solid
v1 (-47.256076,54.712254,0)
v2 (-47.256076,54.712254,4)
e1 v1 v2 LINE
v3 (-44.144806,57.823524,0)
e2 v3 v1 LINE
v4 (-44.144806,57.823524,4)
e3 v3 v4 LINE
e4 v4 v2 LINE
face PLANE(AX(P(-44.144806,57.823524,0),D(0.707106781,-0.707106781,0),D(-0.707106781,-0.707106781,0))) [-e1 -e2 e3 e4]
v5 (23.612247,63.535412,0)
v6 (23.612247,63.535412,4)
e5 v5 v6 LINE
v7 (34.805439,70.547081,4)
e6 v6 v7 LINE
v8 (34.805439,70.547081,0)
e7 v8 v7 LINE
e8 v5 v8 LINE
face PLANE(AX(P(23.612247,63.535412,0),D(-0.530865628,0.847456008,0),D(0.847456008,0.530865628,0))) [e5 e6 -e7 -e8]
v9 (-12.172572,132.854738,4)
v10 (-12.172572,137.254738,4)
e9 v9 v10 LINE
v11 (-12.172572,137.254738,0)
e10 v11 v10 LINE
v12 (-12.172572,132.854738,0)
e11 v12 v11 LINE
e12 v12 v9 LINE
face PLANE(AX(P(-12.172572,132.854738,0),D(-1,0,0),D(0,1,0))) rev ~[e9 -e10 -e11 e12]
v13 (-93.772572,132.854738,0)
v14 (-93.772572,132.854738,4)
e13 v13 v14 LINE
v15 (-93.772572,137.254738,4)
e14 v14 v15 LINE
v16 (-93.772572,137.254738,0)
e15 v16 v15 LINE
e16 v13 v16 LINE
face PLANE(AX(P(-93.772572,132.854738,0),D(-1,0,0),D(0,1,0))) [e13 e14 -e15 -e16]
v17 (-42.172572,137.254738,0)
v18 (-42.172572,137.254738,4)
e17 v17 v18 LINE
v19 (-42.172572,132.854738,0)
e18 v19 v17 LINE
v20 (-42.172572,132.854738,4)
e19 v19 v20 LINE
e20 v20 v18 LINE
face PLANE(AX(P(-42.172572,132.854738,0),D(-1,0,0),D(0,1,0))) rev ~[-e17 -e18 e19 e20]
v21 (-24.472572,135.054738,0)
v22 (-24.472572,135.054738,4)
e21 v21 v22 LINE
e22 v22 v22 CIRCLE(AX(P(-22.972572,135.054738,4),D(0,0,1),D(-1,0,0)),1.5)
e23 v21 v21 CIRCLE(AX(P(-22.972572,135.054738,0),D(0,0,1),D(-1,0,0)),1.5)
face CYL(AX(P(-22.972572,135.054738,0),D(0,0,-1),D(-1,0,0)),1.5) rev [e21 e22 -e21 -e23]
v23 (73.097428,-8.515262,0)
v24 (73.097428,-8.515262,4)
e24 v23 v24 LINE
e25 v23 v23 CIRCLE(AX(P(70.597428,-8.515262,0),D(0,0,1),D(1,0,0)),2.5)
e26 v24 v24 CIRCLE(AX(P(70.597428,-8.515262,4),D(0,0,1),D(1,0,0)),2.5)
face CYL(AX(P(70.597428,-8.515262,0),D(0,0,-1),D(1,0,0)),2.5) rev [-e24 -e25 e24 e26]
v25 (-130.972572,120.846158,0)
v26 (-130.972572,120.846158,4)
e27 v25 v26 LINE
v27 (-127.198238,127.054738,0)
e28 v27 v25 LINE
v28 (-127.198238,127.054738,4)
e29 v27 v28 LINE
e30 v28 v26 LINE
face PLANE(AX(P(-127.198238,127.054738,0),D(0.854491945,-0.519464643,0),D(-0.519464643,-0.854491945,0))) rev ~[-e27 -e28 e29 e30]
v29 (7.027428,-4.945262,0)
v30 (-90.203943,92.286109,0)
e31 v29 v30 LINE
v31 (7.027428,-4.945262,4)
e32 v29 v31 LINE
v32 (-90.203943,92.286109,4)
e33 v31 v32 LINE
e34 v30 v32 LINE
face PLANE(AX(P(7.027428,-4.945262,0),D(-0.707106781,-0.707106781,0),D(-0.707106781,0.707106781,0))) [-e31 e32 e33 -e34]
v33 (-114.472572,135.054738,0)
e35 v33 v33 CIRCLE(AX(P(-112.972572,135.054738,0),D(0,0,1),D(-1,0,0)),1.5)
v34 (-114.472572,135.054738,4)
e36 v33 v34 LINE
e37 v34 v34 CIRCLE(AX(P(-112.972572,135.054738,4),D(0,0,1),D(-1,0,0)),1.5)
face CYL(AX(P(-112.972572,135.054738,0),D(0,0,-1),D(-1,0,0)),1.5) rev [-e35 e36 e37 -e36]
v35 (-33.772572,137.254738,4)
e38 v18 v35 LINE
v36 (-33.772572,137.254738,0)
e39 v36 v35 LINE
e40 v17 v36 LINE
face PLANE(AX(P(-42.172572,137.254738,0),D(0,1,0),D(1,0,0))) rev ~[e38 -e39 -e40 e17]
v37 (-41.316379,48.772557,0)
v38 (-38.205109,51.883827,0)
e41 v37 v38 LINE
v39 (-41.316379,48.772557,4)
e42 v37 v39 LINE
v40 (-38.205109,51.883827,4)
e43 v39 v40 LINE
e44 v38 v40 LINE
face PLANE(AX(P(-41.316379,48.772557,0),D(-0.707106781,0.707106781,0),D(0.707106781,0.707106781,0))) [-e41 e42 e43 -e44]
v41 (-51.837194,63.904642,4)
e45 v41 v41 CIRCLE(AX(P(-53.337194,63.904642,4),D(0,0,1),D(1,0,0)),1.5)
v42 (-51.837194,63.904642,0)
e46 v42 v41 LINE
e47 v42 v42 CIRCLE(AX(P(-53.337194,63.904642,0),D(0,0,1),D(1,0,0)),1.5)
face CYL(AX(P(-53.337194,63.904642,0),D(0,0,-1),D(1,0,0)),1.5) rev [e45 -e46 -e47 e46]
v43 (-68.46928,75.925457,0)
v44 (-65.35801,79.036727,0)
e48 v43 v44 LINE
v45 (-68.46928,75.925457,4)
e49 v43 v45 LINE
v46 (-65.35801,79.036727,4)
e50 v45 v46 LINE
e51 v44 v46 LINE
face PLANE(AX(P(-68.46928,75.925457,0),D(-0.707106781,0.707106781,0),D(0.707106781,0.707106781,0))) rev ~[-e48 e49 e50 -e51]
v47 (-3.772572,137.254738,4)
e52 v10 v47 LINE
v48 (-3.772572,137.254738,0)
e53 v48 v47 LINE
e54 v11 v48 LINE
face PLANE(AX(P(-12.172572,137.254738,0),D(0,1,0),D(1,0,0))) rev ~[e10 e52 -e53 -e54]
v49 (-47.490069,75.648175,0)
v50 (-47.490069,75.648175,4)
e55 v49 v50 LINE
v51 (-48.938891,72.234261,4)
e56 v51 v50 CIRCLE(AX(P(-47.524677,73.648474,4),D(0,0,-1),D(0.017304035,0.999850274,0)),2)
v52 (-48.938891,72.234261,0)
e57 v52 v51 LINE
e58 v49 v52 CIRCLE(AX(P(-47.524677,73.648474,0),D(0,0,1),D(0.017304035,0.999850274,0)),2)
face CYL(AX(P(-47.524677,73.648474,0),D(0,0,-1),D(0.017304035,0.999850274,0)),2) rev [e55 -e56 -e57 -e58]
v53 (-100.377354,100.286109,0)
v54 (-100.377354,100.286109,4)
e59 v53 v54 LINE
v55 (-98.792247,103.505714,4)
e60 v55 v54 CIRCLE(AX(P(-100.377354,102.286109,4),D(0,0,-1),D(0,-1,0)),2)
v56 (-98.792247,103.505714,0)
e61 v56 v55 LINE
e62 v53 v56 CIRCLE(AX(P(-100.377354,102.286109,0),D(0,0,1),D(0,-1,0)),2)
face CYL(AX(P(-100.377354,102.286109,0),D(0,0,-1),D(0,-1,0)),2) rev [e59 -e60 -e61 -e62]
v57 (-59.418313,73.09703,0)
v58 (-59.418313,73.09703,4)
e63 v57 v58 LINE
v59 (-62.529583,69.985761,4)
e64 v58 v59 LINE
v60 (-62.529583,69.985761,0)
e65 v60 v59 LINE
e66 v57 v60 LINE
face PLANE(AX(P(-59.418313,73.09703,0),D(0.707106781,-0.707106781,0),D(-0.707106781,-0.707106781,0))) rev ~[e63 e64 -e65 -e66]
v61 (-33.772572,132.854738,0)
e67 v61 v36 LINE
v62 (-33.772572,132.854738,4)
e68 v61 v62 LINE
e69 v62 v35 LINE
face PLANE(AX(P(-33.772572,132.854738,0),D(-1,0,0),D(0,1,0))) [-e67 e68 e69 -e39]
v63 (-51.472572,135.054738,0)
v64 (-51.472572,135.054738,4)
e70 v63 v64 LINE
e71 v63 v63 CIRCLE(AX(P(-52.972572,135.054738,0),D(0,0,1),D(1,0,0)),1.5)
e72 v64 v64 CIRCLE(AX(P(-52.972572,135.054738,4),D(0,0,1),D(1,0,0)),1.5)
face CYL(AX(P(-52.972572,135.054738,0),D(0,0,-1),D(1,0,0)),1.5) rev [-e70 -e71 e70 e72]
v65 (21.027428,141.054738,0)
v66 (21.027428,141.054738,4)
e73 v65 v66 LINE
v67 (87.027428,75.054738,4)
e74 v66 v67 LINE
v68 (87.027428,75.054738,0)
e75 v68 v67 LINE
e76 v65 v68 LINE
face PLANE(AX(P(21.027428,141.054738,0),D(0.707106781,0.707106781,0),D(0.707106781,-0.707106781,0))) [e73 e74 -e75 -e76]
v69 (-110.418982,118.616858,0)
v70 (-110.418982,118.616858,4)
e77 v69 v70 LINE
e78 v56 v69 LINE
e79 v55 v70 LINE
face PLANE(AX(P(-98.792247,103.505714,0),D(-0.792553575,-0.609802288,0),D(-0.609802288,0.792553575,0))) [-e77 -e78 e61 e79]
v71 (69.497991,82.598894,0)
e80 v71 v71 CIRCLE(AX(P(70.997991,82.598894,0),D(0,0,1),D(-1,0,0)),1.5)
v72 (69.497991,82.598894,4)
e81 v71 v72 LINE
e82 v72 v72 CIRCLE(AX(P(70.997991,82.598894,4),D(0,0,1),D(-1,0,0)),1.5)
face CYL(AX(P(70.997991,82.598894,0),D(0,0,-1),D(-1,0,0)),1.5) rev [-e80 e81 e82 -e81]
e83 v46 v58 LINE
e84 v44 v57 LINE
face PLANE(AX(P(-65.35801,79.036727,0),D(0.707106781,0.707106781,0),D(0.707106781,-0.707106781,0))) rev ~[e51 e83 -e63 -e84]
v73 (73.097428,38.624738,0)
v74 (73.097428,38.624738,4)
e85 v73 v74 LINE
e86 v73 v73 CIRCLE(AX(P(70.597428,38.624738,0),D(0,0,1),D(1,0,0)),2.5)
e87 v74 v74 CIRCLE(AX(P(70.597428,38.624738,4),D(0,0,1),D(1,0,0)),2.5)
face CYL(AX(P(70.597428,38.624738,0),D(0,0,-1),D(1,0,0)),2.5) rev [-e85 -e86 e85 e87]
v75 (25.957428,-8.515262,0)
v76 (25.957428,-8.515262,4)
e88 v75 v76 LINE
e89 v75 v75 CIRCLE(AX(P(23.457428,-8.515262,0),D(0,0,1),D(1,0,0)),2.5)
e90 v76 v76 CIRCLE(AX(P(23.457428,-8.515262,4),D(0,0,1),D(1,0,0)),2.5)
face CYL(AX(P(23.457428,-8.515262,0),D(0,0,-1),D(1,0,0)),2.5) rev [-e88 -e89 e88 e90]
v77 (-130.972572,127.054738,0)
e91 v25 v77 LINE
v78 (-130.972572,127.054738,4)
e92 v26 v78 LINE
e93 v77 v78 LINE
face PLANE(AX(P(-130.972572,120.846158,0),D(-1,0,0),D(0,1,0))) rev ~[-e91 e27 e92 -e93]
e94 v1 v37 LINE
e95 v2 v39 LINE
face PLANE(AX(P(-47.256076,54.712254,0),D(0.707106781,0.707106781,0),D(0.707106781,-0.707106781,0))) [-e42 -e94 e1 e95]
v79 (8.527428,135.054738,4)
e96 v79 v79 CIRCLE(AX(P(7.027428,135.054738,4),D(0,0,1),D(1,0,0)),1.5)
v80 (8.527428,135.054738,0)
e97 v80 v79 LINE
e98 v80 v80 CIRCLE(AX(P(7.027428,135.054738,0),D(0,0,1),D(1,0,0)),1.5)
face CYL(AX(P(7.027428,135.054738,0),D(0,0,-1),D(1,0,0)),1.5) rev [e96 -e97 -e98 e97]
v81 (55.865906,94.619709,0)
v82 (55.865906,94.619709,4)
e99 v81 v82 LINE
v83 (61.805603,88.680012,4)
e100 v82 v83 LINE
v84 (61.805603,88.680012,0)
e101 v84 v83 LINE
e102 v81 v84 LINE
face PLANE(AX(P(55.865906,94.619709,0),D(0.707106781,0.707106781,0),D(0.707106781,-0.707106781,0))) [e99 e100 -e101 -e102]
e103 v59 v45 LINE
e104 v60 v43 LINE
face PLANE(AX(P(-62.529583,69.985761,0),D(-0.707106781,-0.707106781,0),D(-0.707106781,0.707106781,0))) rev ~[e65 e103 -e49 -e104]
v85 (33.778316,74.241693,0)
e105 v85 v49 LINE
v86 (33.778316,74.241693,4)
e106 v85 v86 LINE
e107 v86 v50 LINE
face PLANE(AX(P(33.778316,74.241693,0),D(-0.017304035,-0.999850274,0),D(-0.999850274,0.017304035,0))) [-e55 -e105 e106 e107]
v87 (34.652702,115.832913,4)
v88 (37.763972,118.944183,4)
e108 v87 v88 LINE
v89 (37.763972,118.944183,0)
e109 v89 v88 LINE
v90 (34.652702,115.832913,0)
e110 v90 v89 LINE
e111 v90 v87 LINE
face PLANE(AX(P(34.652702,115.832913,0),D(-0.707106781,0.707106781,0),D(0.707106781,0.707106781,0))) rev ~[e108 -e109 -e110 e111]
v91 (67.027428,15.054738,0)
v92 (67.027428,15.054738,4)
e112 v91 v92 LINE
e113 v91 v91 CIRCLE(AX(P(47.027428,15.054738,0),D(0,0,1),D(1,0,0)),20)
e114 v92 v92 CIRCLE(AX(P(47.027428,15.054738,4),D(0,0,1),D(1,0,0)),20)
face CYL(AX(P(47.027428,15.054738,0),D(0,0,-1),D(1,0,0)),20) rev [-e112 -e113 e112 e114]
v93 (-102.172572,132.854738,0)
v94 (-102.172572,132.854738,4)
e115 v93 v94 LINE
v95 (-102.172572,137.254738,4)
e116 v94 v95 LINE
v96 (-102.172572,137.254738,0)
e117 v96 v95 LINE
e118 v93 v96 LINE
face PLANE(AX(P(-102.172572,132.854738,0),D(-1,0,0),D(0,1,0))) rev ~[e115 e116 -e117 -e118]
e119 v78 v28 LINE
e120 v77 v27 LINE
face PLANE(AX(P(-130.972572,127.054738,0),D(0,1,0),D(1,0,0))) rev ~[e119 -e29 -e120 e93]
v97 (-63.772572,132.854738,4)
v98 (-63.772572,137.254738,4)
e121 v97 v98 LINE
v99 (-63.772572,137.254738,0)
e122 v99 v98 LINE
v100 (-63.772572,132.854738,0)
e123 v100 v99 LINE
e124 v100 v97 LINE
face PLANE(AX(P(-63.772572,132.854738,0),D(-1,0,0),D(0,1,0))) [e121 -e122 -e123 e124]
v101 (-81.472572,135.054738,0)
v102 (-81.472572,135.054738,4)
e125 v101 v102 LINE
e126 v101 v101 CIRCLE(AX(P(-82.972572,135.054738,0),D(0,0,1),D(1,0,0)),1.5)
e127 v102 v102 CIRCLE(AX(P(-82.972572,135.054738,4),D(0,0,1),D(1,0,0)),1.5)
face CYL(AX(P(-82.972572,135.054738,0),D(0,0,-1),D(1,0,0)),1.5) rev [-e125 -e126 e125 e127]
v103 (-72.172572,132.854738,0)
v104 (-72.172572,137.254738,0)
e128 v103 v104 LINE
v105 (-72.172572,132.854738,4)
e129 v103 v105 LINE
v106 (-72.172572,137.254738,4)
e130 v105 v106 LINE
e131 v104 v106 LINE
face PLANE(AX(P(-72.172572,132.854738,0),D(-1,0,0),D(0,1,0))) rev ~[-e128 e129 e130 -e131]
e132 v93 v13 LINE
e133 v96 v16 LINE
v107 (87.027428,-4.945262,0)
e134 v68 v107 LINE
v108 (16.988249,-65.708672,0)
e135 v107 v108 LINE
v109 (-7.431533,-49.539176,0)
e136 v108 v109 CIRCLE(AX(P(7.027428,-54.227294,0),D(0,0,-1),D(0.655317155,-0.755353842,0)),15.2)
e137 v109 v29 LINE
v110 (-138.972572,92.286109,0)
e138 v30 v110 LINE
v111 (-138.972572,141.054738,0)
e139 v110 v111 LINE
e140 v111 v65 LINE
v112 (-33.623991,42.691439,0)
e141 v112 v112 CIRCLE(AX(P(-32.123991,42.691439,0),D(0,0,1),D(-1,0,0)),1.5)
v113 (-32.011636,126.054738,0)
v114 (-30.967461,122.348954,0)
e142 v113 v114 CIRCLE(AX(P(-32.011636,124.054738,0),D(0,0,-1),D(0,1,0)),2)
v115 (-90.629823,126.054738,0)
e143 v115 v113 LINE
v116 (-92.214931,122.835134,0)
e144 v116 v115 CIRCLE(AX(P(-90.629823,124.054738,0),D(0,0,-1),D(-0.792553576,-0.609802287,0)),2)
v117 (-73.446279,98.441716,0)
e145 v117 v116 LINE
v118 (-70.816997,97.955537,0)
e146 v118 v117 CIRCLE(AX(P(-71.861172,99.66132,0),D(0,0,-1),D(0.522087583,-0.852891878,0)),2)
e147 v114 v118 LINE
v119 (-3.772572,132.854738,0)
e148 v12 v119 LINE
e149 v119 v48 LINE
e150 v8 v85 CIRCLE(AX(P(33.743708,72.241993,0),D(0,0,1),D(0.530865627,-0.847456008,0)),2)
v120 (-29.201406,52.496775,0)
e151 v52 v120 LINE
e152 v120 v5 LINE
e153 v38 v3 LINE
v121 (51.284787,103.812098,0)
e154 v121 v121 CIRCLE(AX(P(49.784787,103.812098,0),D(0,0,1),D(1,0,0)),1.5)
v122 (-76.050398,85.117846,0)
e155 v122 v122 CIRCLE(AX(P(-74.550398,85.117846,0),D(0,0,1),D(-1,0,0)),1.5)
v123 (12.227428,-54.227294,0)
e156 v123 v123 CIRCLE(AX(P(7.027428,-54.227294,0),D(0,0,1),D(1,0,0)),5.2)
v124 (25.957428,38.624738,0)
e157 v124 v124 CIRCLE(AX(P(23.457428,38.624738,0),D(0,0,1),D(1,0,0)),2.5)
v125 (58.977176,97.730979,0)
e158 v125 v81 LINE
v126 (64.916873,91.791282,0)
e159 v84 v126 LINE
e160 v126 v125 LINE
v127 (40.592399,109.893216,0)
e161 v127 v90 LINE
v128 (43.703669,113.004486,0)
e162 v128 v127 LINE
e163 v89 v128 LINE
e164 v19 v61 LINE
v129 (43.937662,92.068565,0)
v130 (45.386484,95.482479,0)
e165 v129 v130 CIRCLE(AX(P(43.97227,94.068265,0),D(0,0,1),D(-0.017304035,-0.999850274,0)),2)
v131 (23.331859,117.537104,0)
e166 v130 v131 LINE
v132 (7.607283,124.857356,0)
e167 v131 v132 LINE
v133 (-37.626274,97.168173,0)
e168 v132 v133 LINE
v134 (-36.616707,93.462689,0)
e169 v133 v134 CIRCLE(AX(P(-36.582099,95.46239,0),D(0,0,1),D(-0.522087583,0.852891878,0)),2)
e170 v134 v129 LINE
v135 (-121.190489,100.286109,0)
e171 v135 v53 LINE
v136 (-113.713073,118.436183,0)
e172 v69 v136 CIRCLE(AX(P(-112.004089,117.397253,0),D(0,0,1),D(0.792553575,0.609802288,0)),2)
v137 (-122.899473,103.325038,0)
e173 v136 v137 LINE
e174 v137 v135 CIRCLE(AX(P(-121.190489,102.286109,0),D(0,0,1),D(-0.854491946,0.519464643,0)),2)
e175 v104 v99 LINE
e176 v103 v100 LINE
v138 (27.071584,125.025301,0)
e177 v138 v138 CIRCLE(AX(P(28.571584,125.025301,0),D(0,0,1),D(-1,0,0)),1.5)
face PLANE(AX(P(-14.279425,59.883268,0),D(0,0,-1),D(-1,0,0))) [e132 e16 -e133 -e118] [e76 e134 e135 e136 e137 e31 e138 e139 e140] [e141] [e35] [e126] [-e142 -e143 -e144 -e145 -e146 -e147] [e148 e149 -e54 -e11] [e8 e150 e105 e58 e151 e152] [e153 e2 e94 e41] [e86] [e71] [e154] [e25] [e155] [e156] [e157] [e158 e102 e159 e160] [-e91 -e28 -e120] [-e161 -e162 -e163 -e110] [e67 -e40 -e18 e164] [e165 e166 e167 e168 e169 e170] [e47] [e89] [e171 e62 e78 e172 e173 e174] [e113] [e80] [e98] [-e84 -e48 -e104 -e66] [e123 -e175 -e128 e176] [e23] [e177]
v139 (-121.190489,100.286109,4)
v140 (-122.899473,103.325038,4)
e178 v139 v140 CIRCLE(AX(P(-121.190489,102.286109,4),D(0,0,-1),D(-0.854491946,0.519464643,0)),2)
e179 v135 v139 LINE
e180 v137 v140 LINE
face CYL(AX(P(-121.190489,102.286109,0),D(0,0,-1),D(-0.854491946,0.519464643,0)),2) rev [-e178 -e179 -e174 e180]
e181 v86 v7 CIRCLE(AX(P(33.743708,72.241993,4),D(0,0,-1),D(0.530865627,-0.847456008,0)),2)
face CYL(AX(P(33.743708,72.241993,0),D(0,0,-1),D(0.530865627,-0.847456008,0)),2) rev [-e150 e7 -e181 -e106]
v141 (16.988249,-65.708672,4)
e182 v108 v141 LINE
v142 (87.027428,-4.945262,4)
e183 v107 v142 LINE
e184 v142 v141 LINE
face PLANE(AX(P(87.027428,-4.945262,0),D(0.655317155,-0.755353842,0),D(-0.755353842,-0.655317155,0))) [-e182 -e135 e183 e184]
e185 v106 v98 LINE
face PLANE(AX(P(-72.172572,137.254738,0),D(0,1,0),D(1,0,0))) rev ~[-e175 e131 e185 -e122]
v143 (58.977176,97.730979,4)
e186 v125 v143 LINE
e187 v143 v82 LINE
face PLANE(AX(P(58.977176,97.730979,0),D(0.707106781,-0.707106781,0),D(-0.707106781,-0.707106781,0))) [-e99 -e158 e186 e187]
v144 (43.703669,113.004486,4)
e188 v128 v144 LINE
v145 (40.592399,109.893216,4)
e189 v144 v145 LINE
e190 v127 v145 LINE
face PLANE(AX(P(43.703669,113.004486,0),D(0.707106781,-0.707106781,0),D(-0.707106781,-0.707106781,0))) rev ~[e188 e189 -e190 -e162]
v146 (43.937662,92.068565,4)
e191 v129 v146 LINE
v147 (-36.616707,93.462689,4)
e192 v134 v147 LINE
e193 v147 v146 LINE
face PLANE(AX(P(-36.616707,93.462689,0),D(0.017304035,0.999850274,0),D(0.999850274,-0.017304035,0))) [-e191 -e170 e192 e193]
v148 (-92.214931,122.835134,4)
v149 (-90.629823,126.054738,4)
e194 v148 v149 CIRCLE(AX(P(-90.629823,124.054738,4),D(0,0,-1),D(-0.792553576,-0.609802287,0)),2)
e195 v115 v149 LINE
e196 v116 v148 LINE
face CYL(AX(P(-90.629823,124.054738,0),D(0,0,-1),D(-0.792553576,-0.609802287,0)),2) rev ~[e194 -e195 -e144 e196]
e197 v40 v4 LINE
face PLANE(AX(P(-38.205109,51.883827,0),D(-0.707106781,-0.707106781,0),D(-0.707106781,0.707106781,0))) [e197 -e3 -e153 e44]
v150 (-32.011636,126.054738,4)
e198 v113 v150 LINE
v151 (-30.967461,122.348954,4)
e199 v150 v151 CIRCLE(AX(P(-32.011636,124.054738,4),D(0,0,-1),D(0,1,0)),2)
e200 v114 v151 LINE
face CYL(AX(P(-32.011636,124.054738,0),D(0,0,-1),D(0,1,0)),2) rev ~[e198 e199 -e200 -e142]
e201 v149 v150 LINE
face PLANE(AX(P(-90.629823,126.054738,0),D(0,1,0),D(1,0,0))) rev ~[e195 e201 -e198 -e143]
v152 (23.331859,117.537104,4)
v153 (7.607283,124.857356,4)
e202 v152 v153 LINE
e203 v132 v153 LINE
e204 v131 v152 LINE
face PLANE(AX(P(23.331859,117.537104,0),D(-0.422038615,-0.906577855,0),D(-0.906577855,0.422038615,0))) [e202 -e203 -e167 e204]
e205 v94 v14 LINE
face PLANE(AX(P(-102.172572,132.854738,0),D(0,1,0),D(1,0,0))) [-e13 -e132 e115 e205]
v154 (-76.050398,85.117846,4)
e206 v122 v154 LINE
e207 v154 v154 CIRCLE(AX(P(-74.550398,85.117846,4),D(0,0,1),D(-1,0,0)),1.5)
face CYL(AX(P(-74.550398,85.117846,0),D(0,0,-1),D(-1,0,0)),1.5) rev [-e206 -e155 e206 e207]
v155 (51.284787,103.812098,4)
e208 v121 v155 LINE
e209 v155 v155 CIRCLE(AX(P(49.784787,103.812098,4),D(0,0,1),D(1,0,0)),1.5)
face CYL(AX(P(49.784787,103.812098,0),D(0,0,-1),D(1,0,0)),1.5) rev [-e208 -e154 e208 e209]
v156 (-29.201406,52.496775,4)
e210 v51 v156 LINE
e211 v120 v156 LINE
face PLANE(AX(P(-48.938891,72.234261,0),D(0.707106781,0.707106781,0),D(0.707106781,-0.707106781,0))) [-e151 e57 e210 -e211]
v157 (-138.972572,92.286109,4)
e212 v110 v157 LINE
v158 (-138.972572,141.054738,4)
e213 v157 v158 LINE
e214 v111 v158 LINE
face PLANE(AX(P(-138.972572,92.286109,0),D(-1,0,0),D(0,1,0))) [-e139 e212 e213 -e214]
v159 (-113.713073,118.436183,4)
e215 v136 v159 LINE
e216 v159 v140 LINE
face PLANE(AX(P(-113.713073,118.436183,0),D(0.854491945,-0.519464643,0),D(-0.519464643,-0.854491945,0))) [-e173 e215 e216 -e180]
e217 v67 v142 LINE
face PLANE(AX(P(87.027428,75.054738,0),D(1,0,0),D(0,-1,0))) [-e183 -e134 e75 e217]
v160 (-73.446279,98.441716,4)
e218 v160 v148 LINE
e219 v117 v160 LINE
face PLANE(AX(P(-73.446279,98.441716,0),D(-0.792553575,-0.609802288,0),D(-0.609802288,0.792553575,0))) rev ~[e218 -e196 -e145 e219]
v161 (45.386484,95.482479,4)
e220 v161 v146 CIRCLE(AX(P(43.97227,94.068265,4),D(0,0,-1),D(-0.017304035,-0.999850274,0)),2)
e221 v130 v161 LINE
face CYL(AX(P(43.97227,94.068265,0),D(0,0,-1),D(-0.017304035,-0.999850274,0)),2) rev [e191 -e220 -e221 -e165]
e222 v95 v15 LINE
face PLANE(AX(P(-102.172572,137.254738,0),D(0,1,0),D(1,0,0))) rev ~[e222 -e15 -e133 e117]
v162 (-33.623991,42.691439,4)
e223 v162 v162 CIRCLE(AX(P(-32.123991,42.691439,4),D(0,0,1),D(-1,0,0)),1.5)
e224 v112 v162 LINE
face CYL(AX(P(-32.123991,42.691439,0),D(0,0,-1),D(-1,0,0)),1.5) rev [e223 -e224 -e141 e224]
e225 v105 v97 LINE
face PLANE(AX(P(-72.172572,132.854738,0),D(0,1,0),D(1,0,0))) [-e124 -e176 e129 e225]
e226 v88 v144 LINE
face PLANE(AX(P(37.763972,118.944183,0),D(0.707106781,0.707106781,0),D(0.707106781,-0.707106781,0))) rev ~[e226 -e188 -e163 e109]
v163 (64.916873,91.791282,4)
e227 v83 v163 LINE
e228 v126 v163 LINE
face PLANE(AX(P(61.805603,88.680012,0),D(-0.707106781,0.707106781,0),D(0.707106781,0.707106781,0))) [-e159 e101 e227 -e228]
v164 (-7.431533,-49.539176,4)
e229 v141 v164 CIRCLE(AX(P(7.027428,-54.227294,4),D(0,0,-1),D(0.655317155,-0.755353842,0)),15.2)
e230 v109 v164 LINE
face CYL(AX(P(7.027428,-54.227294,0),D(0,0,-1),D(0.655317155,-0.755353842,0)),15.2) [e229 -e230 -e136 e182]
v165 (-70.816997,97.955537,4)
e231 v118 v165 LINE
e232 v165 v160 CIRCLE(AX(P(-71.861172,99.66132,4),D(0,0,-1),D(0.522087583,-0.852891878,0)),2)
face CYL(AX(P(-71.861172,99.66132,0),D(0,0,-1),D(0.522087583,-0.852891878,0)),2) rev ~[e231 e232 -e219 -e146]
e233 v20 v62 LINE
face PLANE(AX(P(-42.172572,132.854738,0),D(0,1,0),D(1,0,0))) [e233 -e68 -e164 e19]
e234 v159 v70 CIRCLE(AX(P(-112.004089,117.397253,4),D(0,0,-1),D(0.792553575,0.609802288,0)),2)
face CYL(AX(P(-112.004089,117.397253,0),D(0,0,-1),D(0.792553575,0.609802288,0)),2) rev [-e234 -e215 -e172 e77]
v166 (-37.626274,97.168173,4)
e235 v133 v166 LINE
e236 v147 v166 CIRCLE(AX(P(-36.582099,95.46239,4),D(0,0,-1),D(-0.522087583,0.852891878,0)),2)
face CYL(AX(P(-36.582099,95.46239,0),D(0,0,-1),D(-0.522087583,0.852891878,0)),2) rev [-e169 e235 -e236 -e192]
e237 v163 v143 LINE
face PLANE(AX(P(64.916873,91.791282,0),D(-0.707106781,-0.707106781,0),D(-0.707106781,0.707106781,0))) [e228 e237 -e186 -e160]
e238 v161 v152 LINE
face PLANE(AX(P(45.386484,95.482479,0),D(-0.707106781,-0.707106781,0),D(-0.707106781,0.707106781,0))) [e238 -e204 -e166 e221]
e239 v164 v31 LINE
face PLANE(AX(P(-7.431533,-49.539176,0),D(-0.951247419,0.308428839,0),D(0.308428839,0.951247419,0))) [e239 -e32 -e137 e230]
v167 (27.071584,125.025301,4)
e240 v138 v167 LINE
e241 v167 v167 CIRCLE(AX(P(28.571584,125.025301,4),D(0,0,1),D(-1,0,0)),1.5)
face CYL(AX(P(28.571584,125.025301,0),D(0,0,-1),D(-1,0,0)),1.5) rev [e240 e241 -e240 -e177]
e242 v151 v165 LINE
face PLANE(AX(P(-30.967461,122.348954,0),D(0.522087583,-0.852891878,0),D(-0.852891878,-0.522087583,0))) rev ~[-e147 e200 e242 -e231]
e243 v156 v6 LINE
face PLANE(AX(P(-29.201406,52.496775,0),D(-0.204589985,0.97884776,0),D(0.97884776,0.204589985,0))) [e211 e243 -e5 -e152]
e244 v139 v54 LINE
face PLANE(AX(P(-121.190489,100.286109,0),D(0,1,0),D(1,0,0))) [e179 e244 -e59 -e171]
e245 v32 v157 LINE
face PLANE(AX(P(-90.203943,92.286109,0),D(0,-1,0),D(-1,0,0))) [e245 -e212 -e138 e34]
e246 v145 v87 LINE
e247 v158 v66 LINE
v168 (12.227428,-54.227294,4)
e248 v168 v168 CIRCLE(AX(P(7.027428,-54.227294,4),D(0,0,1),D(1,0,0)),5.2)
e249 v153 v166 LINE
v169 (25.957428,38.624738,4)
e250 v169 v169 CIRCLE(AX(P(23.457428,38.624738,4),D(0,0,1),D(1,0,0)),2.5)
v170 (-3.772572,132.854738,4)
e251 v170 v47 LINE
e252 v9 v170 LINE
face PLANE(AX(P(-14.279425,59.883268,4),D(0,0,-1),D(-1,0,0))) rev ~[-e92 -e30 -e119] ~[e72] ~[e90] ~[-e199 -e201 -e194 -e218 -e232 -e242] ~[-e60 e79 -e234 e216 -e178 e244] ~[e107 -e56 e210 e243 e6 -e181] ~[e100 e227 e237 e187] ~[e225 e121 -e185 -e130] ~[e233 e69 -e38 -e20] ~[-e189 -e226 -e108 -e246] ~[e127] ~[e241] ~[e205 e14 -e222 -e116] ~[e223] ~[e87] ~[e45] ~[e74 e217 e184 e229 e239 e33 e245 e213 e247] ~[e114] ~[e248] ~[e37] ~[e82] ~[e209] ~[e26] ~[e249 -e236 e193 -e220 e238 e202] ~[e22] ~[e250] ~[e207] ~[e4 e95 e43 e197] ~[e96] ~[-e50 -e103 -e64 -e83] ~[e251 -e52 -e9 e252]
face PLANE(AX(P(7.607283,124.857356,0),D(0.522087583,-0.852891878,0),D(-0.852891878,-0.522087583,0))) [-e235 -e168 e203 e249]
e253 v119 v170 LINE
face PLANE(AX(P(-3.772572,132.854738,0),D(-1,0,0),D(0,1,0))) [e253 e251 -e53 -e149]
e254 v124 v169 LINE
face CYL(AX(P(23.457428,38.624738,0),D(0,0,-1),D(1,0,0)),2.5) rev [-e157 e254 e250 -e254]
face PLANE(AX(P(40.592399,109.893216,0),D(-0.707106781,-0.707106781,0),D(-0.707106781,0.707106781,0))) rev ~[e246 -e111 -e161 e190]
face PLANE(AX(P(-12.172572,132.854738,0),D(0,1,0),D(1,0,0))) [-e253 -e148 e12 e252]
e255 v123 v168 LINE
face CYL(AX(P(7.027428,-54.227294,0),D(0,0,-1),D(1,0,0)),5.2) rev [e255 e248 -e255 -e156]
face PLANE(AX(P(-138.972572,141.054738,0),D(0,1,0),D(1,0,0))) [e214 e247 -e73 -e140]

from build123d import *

# Parameters (mm, degrees)
SKETCH_1_R          = 1.5
SKETCH_1_R_2        = 20
SKETCH_1_R_3        = 5.2
SKETCH_1_R_4        = 2.5
SKETCH_1_W          = 8.4
SKETCH_1_H          = 4.4
EXTRUDE_1_DEPTH     = 4
CUT_EXTRUDE_1_DEPTH = 10


with BuildPart() as part:
    # 草图1 → 凸台-拉伸1 (new body)
    with BuildSketch(Plane.XY):
        with BuildLine():
            Line((-138.972571837, 141.054738201), (21.027428163, 141.054738201))
            Line((21.027428163, 141.054738201), (87.027428163, 75.054738201))
            Line((87.027428163, 75.054738201), (87.027428163, -4.945261799))
            Line((87.027428163, -4.945261799), (16.988248923, -65.708672494))
            ThreePointArc((16.988248923, -65.708672494), (-1.364322077, -66.900830621), (-7.431532599, -49.539175751))
            Line((-7.431532599, -49.539175751), (7.027428163, -4.945261799))
            Line((7.027428163, -4.945261799), (-90.203942848, 92.286109212))
            Line((-90.203942848, 92.286109212), (-138.972571837, 92.286109212))
            Line((-138.972571837, 92.286109212), (-138.972571837, 141.054738201))
        make_face()
        with Locations((-52.972571837, 135.054738201)):
            Circle(SKETCH_1_R, mode=Mode.SUBTRACT)
        with Locations((47.027428163, 15.054738201)):
            Circle(SKETCH_1_R_2, mode=Mode.SUBTRACT)
        with Locations(Location((-22.972571837, 135.054738201, 0), (0, 0, 180))):
            Circle(SKETCH_1_R, mode=Mode.SUBTRACT)
        with Locations((7.027428163, 135.054738201)):
            Circle(SKETCH_1_R, mode=Mode.SUBTRACT)
        with Locations(Location((-112.972571837, 135.054738201, 0), (0, 0, 180))):
            Circle(SKETCH_1_R, mode=Mode.SUBTRACT)
        with Locations((-82.972571837, 135.054738201)):
            Circle(SKETCH_1_R, mode=Mode.SUBTRACT)
        with Locations((7.027428163, -54.227294102)):
            Circle(SKETCH_1_R_3, mode=Mode.SUBTRACT)
        with Locations((49.784787476, 103.812097514)):
            Circle(SKETCH_1_R, mode=Mode.SUBTRACT)
        with Locations(Location((70.997990912, 82.598894078, 0), (0, 0, 180))):
            Circle(SKETCH_1_R, mode=Mode.SUBTRACT)
        with Locations(Location((28.571584041, 125.025300949, 0), (0, 0, 180))):
            Circle(SKETCH_1_R, mode=Mode.SUBTRACT)
        with Locations((-53.337194475, 63.904642213)):
            Circle(SKETCH_1_R, mode=Mode.SUBTRACT)
        with Locations(Location((-32.123991039, 42.691438778, 0), (0, 0, 180))):
            Circle(SKETCH_1_R, mode=Mode.SUBTRACT)
        with Locations(Location((-74.55039791, 85.117845649, 0), (0, 0, 180))):
            Circle(SKETCH_1_R, mode=Mode.SUBTRACT)
        with Locations((70.597428163, 38.624738201)):
            Circle(SKETCH_1_R_4, mode=Mode.SUBTRACT)
        with Locations((70.597428163, -8.515261799)):
            Circle(SKETCH_1_R_4, mode=Mode.SUBTRACT)
        with Locations((23.457428163, -8.515261799)):
            Circle(SKETCH_1_R_4, mode=Mode.SUBTRACT)
        with Locations((23.457428163, 38.624738201)):
            Circle(SKETCH_1_R_4, mode=Mode.SUBTRACT)
        with Locations((-37.972571837, 135.054738201)):
            Rectangle(SKETCH_1_W, SKETCH_1_H, mode=Mode.SUBTRACT)
        with Locations((-7.972571837, 135.054738201)):
            Rectangle(SKETCH_1_W, SKETCH_1_H, mode=Mode.SUBTRACT)
        with Locations((-97.972571837, 135.054738201)):
            Rectangle(SKETCH_1_W, SKETCH_1_H, mode=Mode.SUBTRACT)
        with Locations((-67.972571837, 135.054738201)):
            Rectangle(SKETCH_1_W, SKETCH_1_H, mode=Mode.SUBTRACT)
        Polygon((55.865905794, 94.619709358), (61.805602756, 88.680012396), (64.916872594, 91.791282234), (58.977175632, 97.730979196), align=None, mode=Mode.SUBTRACT)
        Polygon((34.652702359, 115.832912794), (37.763972196, 118.944182631), (43.703669158, 113.004485669), (40.592399321, 109.893215832), align=None, mode=Mode.SUBTRACT)
        Polygon((-47.256076157, 54.712254058), (-41.316379195, 48.772557096), (-38.205109357, 51.883826933), (-44.144806319, 57.823523895), align=None, mode=Mode.SUBTRACT)
        Polygon((-68.469279592, 75.925457494), (-65.358009755, 79.036727331), (-59.418312793, 73.097030369), (-62.52958263, 69.985760532), align=None, mode=Mode.SUBTRACT)
    extrude(amount=EXTRUDE_1_DEPTH)

    # 草图2 → 切除-拉伸1 (cut)
    with BuildSketch(Plane(origin=(0, 0, 0), x_dir=(-1, 0, 0), z_dir=(0, 0, -1))):
        with BuildLine():
            Line((98.792246858, 103.505713788), (110.418981679, 118.616857906))
            ThreePointArc((110.418981679, 118.616857906), (112.113620797, 119.394251765), (113.713072721, 118.436182616))
            Line((113.713072721, 118.436182616), (122.899473042, 103.325038498))
            ThreePointArc((122.899473042, 103.325038498), (122.933741653, 101.305767071), (121.190489151, 100.286109212))
            Line((121.190489151, 100.286109212), (100.377354008, 100.286109212))
            ThreePointArc((100.377354008, 100.286109212), (98.583028348, 101.402709289), (98.792246858, 103.505713788))
        make_face()
        Polygon((127.198237985, 127.054738201), (130.972571837, 120.84615804), (130.972571837, 127.054738201), align=None)
        with BuildLine():
            Line((73.446278945, 98.44171591), (92.214930542, 122.835133626))
            ThreePointArc((92.214930542, 122.835133626), (92.424149051, 124.938138124), (90.629823391, 126.054738201))
            Line((90.629823391, 126.054738201), (32.011635988, 126.054738201))
            ThreePointArc((32.011635988, 126.054738201), (30.086594754, 124.59715524), (30.967460822, 122.348954445))
            Line((30.967460822, 122.348954445), (70.816996628, 97.955536729))
            ThreePointArc((70.816996628, 97.955536729), (72.224826028, 97.694659457), (73.446278945, 98.44171591))
        make_face()
        with BuildLine():
            Line((36.616706696, 93.462689168), (-43.937662379, 92.068564807))
            ThreePointArc((-43.937662379, 92.068564807), (-45.813338133, 93.286939697), (-45.386484011, 95.482478917))
            Line((-45.386484011, 95.482478917), (-23.33185922, 117.537103709))
            Line((-23.33185922, 117.537103709), (-7.607283327, 124.857355573))
            Line((-7.607283327, 124.857355573), (37.626273792, 97.168173472))
            ThreePointArc((37.626273792, 97.168173472), (38.51176098, 94.936649095), (36.616706696, 93.462689168))
        make_face()
        with BuildLine():
            Line((29.20140553, 52.49677533), (-23.612246698, 63.53541151))
            Line((-23.612246698, 63.53541151), (-34.805439363, 70.547080779))
            ThreePointArc((-34.805439363, 70.547080779), (-35.670630649, 72.777688158), (-33.778316178, 74.241693343))
            Line((-33.778316178, 74.241693343), (47.490069377, 75.64817492))
            ThreePointArc((47.490069377, 75.64817492), (49.365745131, 74.42980003), (48.93889101, 72.23426081))
            Line((48.93889101, 72.23426081), (29.20140553, 52.49677533))
        make_face()
    extrude(amount=-CUT_EXTRUDE_1_DEPTH, mode=Mode.SUBTRACT)


solid = part.part
